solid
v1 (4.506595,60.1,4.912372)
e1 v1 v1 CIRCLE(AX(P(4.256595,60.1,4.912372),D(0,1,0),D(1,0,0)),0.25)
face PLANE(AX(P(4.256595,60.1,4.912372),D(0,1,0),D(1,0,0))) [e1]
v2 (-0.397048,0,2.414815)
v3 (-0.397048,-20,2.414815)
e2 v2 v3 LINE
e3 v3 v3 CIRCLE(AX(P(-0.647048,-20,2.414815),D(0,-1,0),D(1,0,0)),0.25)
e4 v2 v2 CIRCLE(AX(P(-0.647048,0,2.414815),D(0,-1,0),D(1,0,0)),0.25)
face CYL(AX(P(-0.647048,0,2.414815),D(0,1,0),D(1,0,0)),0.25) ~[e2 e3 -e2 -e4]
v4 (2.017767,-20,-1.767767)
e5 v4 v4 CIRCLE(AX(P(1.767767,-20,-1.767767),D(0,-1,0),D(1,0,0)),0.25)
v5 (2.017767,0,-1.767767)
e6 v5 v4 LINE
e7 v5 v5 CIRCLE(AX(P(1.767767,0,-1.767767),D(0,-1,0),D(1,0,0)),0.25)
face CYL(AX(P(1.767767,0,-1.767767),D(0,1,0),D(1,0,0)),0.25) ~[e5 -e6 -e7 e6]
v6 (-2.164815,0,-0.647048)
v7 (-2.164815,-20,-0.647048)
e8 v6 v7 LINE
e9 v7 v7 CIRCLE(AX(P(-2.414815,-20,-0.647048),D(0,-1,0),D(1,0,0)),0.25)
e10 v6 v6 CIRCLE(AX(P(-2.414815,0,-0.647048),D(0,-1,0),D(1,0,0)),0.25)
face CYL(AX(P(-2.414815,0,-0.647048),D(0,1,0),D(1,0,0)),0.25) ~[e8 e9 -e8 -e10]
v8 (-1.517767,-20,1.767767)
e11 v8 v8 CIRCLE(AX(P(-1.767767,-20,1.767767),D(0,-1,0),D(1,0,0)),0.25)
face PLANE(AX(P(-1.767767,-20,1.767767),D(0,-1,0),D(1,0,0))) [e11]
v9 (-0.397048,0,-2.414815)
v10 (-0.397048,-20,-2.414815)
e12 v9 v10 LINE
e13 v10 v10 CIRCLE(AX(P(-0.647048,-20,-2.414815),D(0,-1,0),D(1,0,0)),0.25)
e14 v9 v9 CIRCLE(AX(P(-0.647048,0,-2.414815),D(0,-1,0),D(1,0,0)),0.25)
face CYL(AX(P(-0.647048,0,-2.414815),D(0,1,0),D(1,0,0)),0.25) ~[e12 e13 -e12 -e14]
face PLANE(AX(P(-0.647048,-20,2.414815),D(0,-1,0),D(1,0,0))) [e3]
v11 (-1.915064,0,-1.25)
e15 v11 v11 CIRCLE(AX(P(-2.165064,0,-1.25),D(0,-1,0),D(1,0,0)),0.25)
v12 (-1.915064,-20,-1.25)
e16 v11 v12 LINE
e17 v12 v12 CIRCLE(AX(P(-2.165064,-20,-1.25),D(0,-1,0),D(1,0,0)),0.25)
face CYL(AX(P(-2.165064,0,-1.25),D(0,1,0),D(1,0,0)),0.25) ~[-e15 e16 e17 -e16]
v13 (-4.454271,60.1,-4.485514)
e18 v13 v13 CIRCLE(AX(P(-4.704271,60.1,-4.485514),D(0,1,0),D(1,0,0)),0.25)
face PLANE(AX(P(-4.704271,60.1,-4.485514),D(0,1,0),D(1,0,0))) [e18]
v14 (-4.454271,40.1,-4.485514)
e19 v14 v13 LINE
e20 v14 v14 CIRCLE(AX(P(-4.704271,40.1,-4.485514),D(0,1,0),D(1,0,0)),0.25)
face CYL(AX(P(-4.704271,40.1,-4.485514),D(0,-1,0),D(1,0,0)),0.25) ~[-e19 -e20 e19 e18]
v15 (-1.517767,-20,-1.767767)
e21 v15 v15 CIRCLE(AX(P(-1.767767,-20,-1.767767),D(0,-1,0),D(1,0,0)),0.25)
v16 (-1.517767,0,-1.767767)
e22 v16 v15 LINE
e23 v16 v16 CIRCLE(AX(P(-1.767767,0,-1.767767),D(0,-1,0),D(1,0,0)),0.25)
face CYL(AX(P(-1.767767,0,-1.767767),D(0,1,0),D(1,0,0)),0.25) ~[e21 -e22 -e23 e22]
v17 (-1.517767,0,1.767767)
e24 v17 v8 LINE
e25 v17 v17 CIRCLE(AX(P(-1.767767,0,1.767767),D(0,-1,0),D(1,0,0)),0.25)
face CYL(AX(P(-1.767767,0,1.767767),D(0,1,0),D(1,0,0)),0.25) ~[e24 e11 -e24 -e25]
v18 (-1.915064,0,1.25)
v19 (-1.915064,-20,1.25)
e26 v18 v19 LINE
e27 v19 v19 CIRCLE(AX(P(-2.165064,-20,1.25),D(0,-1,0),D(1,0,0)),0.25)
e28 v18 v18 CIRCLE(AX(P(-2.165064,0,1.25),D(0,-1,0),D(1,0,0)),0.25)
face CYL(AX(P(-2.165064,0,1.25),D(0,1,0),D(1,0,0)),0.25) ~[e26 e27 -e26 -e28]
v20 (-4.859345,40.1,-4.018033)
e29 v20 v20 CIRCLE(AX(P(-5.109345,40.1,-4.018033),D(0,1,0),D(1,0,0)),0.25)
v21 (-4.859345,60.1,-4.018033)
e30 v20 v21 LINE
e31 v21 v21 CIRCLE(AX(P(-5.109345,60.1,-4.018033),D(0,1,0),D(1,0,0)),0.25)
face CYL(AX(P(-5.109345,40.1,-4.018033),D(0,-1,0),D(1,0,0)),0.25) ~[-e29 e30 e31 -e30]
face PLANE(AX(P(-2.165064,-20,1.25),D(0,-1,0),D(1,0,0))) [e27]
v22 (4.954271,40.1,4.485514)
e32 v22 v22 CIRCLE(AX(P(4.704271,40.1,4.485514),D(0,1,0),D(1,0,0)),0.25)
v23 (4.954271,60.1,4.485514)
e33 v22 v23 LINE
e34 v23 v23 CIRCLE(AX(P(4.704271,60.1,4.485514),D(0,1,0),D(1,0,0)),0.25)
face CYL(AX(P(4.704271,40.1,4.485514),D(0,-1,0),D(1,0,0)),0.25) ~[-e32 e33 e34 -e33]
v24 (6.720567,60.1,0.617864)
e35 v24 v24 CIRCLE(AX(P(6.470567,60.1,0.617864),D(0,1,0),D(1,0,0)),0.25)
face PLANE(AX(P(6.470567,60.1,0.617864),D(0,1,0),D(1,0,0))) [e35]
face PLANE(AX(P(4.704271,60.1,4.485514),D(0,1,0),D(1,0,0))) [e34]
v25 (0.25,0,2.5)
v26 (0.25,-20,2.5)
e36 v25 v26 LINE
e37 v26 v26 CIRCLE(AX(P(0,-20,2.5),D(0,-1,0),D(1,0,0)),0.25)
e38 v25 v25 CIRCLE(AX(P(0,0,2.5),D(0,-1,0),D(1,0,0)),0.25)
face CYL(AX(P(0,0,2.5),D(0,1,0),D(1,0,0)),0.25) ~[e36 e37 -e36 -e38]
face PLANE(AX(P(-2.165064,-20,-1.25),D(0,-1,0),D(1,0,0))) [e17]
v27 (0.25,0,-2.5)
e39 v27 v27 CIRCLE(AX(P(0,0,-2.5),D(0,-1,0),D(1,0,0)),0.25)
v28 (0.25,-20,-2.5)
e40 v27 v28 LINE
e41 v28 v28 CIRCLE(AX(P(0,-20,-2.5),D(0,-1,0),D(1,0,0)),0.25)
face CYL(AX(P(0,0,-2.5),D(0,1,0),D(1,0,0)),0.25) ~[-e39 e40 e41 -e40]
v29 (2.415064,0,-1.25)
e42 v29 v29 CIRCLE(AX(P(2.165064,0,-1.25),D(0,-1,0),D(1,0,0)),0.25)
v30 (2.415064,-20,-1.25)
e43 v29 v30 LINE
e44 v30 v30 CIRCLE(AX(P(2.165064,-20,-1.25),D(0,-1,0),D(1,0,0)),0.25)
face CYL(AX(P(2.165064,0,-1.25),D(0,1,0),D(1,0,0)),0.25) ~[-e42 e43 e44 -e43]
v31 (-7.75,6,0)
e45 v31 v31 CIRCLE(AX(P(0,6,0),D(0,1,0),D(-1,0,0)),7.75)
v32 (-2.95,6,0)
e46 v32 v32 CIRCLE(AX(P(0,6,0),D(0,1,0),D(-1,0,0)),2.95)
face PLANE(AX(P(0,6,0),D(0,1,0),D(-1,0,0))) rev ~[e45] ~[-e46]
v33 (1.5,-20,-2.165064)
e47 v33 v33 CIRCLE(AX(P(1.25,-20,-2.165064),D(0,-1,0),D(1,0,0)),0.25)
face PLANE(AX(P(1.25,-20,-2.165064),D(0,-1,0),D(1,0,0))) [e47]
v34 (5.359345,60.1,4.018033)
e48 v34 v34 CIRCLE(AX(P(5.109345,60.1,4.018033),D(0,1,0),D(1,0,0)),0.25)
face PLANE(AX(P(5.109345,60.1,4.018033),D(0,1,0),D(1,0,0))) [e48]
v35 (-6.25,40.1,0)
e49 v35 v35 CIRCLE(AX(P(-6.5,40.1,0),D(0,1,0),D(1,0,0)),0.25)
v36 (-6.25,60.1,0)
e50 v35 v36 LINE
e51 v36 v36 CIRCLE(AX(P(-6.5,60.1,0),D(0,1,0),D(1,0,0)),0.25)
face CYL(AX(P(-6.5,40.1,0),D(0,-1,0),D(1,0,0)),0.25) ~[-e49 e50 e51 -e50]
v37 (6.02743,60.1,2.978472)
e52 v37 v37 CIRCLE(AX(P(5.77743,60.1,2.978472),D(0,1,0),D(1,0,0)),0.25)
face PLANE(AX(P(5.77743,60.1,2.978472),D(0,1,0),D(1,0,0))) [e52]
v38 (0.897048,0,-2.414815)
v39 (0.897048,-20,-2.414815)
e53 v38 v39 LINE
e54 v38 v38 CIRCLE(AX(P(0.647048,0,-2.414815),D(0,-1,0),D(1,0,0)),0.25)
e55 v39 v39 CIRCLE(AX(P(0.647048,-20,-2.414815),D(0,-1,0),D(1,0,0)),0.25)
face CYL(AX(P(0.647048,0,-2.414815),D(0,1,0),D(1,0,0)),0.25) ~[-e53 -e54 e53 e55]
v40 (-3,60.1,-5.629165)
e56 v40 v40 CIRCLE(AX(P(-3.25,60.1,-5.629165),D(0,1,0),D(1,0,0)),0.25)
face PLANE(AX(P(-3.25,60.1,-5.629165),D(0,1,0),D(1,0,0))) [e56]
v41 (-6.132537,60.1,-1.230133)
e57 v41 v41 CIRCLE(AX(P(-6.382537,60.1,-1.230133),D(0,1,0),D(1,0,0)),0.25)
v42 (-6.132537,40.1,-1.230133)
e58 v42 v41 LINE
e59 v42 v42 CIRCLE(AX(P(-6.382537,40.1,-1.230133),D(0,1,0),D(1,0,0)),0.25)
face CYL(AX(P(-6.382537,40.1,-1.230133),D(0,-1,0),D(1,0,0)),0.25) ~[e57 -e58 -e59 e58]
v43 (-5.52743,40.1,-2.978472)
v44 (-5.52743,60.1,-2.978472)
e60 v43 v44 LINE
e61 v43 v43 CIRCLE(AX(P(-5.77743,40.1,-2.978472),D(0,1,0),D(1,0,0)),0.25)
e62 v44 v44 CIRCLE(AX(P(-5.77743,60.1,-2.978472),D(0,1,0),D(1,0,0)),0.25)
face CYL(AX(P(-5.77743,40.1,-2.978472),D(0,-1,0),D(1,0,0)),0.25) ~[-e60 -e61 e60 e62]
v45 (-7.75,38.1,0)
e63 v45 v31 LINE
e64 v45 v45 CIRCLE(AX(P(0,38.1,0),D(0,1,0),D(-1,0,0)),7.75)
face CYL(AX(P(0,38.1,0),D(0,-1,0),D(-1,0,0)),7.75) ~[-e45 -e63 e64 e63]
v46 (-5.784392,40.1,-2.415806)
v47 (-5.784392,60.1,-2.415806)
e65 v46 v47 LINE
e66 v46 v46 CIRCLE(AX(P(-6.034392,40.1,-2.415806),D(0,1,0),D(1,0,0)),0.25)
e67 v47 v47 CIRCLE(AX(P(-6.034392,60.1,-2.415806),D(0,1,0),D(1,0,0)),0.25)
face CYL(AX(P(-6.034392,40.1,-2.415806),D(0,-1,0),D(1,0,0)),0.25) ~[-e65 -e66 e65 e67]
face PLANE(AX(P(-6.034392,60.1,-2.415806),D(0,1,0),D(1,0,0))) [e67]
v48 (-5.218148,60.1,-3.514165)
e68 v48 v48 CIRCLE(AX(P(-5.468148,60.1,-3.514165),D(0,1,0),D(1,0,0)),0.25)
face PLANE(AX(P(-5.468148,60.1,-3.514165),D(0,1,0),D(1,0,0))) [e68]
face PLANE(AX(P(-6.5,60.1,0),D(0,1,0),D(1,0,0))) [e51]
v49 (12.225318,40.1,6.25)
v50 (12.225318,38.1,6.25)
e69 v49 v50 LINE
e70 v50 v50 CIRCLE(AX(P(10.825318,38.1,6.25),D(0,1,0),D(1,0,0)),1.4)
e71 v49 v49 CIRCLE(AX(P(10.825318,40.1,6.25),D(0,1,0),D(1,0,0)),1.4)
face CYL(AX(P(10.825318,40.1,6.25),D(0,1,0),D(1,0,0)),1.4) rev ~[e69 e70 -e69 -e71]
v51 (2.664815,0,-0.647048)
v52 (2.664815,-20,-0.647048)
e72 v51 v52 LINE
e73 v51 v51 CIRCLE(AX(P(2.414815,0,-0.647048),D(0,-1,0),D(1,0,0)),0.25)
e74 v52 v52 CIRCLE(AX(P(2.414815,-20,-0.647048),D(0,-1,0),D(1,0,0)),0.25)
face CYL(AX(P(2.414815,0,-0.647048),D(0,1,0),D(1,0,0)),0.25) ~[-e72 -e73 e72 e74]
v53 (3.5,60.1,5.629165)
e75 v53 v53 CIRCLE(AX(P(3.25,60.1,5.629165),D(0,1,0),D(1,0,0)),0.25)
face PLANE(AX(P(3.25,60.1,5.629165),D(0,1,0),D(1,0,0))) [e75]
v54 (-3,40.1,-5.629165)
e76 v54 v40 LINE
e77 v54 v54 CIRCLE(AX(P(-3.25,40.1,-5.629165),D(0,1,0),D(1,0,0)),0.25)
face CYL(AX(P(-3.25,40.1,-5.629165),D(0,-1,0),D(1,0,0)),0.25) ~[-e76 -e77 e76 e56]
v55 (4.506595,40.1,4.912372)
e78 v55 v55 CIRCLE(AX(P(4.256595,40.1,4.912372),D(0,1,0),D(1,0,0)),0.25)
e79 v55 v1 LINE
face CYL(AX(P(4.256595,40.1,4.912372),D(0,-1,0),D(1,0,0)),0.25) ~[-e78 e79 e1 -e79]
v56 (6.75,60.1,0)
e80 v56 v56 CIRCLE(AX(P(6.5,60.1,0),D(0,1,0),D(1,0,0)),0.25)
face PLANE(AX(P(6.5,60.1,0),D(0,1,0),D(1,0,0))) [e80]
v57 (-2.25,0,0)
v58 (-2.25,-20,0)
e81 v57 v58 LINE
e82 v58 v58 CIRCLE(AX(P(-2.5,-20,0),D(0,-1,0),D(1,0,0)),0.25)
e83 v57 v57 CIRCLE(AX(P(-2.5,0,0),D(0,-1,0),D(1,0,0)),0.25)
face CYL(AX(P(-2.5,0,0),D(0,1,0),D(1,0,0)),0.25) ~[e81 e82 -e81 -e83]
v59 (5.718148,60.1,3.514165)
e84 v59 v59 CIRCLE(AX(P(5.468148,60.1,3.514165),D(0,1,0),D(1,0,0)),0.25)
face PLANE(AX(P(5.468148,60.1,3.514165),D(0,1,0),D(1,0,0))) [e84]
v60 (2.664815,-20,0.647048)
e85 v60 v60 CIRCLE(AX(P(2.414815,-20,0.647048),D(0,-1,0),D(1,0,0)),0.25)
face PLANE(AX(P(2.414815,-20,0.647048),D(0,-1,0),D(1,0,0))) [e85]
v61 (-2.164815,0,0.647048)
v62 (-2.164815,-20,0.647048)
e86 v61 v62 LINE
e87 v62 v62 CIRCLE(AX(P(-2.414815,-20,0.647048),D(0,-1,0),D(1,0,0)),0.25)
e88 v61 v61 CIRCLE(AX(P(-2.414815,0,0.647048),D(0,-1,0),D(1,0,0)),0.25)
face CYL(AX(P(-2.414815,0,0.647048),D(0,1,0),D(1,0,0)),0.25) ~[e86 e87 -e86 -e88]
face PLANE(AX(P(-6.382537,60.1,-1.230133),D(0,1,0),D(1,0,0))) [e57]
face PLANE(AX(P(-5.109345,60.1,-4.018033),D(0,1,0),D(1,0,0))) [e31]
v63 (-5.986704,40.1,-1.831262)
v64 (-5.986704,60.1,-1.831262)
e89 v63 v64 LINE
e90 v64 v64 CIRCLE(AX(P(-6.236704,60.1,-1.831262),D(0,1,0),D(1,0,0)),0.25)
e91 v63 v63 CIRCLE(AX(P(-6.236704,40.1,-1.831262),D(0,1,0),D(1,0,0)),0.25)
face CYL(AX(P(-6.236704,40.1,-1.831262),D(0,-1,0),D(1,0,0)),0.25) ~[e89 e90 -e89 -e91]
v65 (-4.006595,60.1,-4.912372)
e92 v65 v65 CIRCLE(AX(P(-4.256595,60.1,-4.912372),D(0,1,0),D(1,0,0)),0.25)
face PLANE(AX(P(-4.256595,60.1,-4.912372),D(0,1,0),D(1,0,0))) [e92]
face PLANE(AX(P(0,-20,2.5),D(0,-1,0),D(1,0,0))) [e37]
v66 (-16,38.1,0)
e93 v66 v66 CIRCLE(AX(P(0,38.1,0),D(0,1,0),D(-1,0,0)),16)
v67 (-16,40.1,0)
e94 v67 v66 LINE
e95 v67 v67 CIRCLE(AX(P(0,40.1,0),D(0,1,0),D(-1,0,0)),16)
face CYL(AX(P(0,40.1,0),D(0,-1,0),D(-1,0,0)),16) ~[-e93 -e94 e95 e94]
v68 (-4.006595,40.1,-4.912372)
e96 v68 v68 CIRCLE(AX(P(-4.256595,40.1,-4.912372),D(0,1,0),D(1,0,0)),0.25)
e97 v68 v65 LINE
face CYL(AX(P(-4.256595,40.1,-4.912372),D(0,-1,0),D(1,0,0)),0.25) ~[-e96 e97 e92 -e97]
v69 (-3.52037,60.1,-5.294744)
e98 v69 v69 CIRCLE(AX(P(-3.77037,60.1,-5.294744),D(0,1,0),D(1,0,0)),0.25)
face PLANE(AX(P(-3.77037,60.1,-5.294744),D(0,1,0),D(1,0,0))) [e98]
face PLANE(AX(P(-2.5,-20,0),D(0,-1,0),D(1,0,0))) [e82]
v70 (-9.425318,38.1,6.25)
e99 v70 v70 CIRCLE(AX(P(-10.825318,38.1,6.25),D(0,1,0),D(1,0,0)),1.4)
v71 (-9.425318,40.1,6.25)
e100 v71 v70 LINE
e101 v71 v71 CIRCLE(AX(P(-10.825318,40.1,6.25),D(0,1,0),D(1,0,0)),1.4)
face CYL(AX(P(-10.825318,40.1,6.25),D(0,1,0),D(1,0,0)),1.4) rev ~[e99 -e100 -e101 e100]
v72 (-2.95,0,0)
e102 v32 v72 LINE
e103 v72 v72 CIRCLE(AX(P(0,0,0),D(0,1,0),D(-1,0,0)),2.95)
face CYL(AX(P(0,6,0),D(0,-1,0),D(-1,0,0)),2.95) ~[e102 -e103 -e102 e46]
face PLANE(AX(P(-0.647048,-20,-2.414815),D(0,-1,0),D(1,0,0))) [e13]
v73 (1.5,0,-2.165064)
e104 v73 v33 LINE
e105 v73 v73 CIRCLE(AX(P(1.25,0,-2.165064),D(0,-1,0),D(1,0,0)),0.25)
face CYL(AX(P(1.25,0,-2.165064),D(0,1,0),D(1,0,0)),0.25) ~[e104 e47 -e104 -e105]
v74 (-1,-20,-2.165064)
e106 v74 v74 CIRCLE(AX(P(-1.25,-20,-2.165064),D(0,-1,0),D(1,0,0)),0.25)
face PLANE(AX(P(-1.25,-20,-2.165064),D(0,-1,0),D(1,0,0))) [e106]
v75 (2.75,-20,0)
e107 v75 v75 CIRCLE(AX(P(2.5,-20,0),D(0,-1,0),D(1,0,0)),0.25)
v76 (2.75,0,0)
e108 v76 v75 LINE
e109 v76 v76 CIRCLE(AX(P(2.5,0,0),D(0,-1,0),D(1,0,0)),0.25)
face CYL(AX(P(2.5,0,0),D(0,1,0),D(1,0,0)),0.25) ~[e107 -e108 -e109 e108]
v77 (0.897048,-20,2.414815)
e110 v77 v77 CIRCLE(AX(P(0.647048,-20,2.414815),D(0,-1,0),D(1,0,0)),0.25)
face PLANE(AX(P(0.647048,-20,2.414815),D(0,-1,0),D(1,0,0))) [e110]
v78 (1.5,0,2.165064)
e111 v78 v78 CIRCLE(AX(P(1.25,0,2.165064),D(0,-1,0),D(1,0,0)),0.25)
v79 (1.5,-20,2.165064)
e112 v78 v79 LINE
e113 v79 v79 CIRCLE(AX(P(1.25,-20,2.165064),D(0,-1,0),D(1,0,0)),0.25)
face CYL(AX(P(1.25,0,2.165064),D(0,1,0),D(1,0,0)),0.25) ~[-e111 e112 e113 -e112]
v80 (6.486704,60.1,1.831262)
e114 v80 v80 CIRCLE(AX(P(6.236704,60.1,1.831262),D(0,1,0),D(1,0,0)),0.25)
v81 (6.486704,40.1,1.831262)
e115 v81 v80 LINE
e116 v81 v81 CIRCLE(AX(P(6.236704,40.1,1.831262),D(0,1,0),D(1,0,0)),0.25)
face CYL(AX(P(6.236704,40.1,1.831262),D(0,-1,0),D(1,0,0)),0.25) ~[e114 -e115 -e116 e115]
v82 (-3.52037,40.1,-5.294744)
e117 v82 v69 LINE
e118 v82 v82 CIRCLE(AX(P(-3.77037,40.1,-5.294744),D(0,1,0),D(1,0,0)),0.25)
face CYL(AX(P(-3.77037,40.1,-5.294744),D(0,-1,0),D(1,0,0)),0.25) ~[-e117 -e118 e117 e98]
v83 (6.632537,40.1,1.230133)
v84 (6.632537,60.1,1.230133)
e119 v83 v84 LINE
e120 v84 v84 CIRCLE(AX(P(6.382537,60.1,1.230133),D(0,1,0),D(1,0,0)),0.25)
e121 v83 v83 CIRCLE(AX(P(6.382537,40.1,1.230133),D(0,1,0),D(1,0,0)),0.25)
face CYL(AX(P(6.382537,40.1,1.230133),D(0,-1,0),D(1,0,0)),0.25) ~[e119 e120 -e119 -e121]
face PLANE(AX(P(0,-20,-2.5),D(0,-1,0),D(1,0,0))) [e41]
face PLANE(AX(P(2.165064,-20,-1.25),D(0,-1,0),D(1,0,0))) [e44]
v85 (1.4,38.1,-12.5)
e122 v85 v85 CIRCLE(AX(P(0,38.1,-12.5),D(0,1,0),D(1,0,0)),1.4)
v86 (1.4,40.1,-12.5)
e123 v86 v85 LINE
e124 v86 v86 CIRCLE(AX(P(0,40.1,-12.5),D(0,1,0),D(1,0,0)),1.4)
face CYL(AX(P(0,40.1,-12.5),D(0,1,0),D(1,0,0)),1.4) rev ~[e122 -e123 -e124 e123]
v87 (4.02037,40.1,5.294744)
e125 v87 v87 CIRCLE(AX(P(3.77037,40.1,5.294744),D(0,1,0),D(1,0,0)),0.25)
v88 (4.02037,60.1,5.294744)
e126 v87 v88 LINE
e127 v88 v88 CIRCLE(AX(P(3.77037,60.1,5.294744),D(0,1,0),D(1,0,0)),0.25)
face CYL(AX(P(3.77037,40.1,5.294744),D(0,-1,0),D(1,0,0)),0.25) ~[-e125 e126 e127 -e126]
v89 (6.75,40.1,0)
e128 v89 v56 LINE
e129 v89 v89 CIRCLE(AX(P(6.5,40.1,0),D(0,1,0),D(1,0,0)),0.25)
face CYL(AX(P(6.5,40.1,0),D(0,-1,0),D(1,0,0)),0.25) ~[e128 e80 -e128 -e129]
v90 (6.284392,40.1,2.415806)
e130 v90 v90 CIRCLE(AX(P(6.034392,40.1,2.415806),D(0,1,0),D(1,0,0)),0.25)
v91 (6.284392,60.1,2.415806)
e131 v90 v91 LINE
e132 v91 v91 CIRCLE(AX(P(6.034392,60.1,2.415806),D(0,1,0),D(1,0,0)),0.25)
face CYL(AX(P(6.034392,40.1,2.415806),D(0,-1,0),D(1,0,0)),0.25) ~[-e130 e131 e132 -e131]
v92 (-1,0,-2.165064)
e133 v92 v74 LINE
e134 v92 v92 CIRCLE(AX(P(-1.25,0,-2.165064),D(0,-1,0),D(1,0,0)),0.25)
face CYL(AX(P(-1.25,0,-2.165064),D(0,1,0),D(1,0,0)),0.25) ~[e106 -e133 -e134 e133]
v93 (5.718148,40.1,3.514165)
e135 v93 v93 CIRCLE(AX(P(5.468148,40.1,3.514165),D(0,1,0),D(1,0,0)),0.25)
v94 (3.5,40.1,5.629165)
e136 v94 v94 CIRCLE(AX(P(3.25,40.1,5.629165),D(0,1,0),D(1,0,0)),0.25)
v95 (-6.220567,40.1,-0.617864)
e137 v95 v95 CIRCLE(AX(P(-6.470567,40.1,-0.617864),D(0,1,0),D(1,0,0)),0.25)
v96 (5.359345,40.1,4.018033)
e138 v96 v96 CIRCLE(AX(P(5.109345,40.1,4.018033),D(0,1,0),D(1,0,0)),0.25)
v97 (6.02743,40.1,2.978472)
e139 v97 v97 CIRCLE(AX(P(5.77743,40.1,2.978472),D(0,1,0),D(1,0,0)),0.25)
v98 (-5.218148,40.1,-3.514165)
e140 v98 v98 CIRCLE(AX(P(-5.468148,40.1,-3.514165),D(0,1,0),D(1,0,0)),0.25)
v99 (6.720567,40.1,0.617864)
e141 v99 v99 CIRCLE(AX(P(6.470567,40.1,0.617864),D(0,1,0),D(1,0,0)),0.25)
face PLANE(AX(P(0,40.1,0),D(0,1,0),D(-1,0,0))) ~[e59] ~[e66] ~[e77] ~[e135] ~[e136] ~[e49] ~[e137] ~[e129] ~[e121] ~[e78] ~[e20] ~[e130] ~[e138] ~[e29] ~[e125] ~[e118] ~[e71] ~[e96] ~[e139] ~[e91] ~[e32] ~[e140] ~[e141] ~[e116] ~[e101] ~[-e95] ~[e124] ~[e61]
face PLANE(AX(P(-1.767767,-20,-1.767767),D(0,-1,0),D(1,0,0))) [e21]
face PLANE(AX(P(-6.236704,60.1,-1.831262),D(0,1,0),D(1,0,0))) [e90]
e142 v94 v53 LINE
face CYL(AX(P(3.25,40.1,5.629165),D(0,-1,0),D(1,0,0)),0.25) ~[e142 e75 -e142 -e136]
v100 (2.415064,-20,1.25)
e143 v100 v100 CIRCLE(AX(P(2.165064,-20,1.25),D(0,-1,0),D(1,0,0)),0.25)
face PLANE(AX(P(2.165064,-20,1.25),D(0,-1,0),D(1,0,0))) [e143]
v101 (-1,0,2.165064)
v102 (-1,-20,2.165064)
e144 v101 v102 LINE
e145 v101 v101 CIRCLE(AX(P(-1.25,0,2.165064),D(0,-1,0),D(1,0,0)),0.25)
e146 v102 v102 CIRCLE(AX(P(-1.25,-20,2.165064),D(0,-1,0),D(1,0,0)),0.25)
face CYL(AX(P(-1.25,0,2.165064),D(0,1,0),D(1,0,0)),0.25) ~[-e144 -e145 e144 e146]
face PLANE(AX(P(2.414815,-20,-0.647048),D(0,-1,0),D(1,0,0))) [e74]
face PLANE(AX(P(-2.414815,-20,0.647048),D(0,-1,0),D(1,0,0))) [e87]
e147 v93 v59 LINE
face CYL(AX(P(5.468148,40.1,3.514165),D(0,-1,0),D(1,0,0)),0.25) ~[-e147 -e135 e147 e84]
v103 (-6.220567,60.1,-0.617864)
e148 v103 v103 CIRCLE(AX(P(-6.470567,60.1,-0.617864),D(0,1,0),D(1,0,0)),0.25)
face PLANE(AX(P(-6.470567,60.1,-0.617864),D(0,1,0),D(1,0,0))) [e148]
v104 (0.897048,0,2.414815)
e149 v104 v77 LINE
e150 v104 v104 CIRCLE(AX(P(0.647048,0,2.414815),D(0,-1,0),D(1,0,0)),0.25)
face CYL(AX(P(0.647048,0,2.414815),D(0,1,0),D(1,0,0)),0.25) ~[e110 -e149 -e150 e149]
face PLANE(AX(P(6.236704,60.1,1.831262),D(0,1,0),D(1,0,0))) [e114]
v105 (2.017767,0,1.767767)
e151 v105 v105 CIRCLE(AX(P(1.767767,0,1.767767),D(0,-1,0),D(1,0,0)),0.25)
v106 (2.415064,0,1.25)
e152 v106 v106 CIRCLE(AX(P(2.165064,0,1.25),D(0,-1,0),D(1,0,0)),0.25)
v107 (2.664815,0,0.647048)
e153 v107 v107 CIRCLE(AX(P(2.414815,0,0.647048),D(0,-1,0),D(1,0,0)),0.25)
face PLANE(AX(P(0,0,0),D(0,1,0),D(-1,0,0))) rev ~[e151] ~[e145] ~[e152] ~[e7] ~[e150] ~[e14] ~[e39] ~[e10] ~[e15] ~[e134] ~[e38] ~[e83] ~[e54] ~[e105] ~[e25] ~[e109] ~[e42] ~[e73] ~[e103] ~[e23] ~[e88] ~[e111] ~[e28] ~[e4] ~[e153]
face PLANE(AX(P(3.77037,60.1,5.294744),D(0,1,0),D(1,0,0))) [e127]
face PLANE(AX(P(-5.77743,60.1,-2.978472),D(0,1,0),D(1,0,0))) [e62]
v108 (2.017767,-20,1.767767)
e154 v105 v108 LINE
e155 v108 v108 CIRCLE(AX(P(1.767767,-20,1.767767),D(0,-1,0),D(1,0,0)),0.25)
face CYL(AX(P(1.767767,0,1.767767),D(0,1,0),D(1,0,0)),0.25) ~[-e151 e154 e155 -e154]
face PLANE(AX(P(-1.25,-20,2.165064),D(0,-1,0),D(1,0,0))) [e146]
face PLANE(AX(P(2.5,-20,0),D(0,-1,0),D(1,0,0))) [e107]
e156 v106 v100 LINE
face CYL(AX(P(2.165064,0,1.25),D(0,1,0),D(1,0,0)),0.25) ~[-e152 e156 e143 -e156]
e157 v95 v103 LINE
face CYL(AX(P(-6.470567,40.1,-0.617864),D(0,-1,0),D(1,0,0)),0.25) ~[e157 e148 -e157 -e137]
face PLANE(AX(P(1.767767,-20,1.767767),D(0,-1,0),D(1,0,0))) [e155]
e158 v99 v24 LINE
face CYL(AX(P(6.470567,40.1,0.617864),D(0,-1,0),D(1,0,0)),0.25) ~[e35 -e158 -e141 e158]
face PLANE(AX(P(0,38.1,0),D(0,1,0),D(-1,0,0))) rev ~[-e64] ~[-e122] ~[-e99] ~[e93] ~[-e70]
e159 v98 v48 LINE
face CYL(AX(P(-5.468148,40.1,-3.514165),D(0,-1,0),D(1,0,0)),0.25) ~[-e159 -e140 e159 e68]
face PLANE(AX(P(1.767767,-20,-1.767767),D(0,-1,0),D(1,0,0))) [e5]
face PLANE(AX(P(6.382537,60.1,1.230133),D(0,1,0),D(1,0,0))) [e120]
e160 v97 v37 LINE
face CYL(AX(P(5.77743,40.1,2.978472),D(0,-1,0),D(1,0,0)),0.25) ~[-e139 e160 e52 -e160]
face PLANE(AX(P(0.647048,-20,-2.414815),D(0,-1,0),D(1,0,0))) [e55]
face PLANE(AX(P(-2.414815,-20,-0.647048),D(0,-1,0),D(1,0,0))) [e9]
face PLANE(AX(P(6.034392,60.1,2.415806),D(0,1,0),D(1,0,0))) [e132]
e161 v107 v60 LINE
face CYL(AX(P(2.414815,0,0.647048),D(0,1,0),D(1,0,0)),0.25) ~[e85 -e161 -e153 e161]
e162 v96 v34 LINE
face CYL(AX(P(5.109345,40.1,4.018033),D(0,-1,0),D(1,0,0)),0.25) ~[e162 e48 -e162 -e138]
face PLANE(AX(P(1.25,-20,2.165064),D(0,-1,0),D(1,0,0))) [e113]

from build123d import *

# Parameters (mm, degrees)
SKETCH_2_R          = 1.4
CUT_EXTRUDE_1_DEPTH = 10
SKETCH_3_R          = 0.25
EXTRUDE_1_DEPTH     = 20
SKETCH_4_R          = 0.25
EXTRUDE_2_DEPTH     = 20


with BuildPart() as part:
    # 草图1 → 旋转1 (revolve)
    with BuildSketch(Plane.XY):
        Polygon((0, 40.1), (-16, 40.1), (-16, 38.1), (-7.75, 38.1), (-7.75, 6), (-2.95, 6), (-2.95, 0), (0, 0), align=None)
    revolve(axis=Axis((0, 0, 0), (0, 1, 0)))

    # 草图2 → 切除-拉伸1 (cut)
    with BuildSketch(Plane(origin=(0, 40.1, 0), x_dir=(1, 0, 0), z_dir=(0, 1, 0))):
        with Locations((0, 12.5)):
            Circle(SKETCH_2_R)
        with Locations((10.825317547, -6.25)):
            Circle(SKETCH_2_R)
        with Locations((-10.825317547, -6.25)):
            Circle(SKETCH_2_R)
    extrude(amount=-CUT_EXTRUDE_1_DEPTH, mode=Mode.SUBTRACT)

    # 草图3 → 凸台-拉伸1 (add)
    with BuildSketch(Plane(origin=(0, 40.1, 0), x_dir=(1, 0, 0), z_dir=(0, 1, 0))):
        with Locations((-6.5, 0)):
            Circle(SKETCH_3_R)
        with Locations((6.5, 0)):
            Circle(SKETCH_3_R)
        with Locations((-6.470567497, 0.617864281)):
            Circle(SKETCH_3_R)
        with Locations((6.470567497, -0.617864281)):
            Circle(SKETCH_3_R)
        with Locations((-6.382536532, 1.230133088)):
            Circle(SKETCH_3_R)
        with Locations((6.382536532, -1.230133088)):
            Circle(SKETCH_3_R)
        with Locations((-6.236704328, 1.831261619)):
            Circle(SKETCH_3_R)
        with Locations((6.236704328, -1.831261619)):
            Circle(SKETCH_3_R)
        with Locations((-6.034391565, 2.415805962)):
            Circle(SKETCH_3_R)
        with Locations((6.034391565, -2.415805962)):
            Circle(SKETCH_3_R)
        with Locations((-5.777430416, 2.978472391)):
            Circle(SKETCH_3_R)
        with Locations((5.777430416, -2.978472391)):
            Circle(SKETCH_3_R)
        with Locations((-5.468147963, 3.514165313)):
            Circle(SKETCH_3_R)
        with Locations((5.468147963, -3.514165313)):
            Circle(SKETCH_3_R)
        with Locations((-5.109345116, 4.01803341)):
            Circle(SKETCH_3_R)
        with Locations((5.109345116, -4.01803341)):
            Circle(SKETCH_3_R)
        with Locations((-4.704271248, 4.485513575)):
            Circle(SKETCH_3_R)
        with Locations((4.704271248, -4.485513575)):
            Circle(SKETCH_3_R)
        with Locations((-4.256594771, 4.912372233)):
            Circle(SKETCH_3_R)
        with Locations((4.256594771, -4.912372233)):
            Circle(SKETCH_3_R)
        with Locations((-3.770369912, 5.294743688)):
            Circle(SKETCH_3_R)
        with Locations((3.770369912, -5.294743688)):
            Circle(SKETCH_3_R)
        with Locations((-3.25, 5.629165125)):
            Circle(SKETCH_3_R)
        with Locations((3.25, -5.629165125)):
            Circle(SKETCH_3_R)
    extrude(amount=EXTRUDE_1_DEPTH)

    # 草图4 → 凸台-拉伸2 (add)
    with BuildSketch(Plane.XZ):
        with Locations((0, -2.5)):
            Circle(SKETCH_4_R)
        with Locations((-0.647047613, -2.414814566)):
            Circle(SKETCH_4_R)
        with Locations((-1.25, -2.165063509)):
            Circle(SKETCH_4_R)
        with Locations((-1.767766953, -1.767766953)):
            Circle(SKETCH_4_R)
        with Locations((-2.165063509, -1.25)):
            Circle(SKETCH_4_R)
        with Locations((-2.414814566, -0.647047613)):
            Circle(SKETCH_4_R)
        with Locations((-2.5, 0)):
            Circle(SKETCH_4_R)
        with Locations((-2.414814566, 0.647047613)):
            Circle(SKETCH_4_R)
        with Locations((-2.165063509, 1.25)):
            Circle(SKETCH_4_R)
        with Locations((-1.767766953, 1.767766953)):
            Circle(SKETCH_4_R)
        with Locations((-1.25, 2.165063509)):
            Circle(SKETCH_4_R)
        with Locations((-0.647047613, 2.414814566)):
            Circle(SKETCH_4_R)
        with Locations((0, 2.5)):
            Circle(SKETCH_4_R)
        with Locations((0.647047613, 2.414814566)):
            Circle(SKETCH_4_R)
        with Locations((1.25, 2.165063509)):
            Circle(SKETCH_4_R)
        with Locations((1.767766953, 1.767766953)):
            Circle(SKETCH_4_R)
        with Locations((2.165063509, 1.25)):
            Circle(SKETCH_4_R)
        with Locations((2.414814566, 0.647047613)):
            Circle(SKETCH_4_R)
        with Locations((2.5, 0)):
            Circle(SKETCH_4_R)
        with Locations((2.414814566, -0.647047613)):
            Circle(SKETCH_4_R)
        with Locations((2.165063509, -1.25)):
            Circle(SKETCH_4_R)
        with Locations((1.767766953, -1.767766953)):
            Circle(SKETCH_4_R)
        with Locations((1.25, -2.165063509)):
            Circle(SKETCH_4_R)
        with Locations((0.647047613, -2.414814566)):
            Circle(SKETCH_4_R)
    extrude(amount=EXTRUDE_2_DEPTH)


solid = part.part
